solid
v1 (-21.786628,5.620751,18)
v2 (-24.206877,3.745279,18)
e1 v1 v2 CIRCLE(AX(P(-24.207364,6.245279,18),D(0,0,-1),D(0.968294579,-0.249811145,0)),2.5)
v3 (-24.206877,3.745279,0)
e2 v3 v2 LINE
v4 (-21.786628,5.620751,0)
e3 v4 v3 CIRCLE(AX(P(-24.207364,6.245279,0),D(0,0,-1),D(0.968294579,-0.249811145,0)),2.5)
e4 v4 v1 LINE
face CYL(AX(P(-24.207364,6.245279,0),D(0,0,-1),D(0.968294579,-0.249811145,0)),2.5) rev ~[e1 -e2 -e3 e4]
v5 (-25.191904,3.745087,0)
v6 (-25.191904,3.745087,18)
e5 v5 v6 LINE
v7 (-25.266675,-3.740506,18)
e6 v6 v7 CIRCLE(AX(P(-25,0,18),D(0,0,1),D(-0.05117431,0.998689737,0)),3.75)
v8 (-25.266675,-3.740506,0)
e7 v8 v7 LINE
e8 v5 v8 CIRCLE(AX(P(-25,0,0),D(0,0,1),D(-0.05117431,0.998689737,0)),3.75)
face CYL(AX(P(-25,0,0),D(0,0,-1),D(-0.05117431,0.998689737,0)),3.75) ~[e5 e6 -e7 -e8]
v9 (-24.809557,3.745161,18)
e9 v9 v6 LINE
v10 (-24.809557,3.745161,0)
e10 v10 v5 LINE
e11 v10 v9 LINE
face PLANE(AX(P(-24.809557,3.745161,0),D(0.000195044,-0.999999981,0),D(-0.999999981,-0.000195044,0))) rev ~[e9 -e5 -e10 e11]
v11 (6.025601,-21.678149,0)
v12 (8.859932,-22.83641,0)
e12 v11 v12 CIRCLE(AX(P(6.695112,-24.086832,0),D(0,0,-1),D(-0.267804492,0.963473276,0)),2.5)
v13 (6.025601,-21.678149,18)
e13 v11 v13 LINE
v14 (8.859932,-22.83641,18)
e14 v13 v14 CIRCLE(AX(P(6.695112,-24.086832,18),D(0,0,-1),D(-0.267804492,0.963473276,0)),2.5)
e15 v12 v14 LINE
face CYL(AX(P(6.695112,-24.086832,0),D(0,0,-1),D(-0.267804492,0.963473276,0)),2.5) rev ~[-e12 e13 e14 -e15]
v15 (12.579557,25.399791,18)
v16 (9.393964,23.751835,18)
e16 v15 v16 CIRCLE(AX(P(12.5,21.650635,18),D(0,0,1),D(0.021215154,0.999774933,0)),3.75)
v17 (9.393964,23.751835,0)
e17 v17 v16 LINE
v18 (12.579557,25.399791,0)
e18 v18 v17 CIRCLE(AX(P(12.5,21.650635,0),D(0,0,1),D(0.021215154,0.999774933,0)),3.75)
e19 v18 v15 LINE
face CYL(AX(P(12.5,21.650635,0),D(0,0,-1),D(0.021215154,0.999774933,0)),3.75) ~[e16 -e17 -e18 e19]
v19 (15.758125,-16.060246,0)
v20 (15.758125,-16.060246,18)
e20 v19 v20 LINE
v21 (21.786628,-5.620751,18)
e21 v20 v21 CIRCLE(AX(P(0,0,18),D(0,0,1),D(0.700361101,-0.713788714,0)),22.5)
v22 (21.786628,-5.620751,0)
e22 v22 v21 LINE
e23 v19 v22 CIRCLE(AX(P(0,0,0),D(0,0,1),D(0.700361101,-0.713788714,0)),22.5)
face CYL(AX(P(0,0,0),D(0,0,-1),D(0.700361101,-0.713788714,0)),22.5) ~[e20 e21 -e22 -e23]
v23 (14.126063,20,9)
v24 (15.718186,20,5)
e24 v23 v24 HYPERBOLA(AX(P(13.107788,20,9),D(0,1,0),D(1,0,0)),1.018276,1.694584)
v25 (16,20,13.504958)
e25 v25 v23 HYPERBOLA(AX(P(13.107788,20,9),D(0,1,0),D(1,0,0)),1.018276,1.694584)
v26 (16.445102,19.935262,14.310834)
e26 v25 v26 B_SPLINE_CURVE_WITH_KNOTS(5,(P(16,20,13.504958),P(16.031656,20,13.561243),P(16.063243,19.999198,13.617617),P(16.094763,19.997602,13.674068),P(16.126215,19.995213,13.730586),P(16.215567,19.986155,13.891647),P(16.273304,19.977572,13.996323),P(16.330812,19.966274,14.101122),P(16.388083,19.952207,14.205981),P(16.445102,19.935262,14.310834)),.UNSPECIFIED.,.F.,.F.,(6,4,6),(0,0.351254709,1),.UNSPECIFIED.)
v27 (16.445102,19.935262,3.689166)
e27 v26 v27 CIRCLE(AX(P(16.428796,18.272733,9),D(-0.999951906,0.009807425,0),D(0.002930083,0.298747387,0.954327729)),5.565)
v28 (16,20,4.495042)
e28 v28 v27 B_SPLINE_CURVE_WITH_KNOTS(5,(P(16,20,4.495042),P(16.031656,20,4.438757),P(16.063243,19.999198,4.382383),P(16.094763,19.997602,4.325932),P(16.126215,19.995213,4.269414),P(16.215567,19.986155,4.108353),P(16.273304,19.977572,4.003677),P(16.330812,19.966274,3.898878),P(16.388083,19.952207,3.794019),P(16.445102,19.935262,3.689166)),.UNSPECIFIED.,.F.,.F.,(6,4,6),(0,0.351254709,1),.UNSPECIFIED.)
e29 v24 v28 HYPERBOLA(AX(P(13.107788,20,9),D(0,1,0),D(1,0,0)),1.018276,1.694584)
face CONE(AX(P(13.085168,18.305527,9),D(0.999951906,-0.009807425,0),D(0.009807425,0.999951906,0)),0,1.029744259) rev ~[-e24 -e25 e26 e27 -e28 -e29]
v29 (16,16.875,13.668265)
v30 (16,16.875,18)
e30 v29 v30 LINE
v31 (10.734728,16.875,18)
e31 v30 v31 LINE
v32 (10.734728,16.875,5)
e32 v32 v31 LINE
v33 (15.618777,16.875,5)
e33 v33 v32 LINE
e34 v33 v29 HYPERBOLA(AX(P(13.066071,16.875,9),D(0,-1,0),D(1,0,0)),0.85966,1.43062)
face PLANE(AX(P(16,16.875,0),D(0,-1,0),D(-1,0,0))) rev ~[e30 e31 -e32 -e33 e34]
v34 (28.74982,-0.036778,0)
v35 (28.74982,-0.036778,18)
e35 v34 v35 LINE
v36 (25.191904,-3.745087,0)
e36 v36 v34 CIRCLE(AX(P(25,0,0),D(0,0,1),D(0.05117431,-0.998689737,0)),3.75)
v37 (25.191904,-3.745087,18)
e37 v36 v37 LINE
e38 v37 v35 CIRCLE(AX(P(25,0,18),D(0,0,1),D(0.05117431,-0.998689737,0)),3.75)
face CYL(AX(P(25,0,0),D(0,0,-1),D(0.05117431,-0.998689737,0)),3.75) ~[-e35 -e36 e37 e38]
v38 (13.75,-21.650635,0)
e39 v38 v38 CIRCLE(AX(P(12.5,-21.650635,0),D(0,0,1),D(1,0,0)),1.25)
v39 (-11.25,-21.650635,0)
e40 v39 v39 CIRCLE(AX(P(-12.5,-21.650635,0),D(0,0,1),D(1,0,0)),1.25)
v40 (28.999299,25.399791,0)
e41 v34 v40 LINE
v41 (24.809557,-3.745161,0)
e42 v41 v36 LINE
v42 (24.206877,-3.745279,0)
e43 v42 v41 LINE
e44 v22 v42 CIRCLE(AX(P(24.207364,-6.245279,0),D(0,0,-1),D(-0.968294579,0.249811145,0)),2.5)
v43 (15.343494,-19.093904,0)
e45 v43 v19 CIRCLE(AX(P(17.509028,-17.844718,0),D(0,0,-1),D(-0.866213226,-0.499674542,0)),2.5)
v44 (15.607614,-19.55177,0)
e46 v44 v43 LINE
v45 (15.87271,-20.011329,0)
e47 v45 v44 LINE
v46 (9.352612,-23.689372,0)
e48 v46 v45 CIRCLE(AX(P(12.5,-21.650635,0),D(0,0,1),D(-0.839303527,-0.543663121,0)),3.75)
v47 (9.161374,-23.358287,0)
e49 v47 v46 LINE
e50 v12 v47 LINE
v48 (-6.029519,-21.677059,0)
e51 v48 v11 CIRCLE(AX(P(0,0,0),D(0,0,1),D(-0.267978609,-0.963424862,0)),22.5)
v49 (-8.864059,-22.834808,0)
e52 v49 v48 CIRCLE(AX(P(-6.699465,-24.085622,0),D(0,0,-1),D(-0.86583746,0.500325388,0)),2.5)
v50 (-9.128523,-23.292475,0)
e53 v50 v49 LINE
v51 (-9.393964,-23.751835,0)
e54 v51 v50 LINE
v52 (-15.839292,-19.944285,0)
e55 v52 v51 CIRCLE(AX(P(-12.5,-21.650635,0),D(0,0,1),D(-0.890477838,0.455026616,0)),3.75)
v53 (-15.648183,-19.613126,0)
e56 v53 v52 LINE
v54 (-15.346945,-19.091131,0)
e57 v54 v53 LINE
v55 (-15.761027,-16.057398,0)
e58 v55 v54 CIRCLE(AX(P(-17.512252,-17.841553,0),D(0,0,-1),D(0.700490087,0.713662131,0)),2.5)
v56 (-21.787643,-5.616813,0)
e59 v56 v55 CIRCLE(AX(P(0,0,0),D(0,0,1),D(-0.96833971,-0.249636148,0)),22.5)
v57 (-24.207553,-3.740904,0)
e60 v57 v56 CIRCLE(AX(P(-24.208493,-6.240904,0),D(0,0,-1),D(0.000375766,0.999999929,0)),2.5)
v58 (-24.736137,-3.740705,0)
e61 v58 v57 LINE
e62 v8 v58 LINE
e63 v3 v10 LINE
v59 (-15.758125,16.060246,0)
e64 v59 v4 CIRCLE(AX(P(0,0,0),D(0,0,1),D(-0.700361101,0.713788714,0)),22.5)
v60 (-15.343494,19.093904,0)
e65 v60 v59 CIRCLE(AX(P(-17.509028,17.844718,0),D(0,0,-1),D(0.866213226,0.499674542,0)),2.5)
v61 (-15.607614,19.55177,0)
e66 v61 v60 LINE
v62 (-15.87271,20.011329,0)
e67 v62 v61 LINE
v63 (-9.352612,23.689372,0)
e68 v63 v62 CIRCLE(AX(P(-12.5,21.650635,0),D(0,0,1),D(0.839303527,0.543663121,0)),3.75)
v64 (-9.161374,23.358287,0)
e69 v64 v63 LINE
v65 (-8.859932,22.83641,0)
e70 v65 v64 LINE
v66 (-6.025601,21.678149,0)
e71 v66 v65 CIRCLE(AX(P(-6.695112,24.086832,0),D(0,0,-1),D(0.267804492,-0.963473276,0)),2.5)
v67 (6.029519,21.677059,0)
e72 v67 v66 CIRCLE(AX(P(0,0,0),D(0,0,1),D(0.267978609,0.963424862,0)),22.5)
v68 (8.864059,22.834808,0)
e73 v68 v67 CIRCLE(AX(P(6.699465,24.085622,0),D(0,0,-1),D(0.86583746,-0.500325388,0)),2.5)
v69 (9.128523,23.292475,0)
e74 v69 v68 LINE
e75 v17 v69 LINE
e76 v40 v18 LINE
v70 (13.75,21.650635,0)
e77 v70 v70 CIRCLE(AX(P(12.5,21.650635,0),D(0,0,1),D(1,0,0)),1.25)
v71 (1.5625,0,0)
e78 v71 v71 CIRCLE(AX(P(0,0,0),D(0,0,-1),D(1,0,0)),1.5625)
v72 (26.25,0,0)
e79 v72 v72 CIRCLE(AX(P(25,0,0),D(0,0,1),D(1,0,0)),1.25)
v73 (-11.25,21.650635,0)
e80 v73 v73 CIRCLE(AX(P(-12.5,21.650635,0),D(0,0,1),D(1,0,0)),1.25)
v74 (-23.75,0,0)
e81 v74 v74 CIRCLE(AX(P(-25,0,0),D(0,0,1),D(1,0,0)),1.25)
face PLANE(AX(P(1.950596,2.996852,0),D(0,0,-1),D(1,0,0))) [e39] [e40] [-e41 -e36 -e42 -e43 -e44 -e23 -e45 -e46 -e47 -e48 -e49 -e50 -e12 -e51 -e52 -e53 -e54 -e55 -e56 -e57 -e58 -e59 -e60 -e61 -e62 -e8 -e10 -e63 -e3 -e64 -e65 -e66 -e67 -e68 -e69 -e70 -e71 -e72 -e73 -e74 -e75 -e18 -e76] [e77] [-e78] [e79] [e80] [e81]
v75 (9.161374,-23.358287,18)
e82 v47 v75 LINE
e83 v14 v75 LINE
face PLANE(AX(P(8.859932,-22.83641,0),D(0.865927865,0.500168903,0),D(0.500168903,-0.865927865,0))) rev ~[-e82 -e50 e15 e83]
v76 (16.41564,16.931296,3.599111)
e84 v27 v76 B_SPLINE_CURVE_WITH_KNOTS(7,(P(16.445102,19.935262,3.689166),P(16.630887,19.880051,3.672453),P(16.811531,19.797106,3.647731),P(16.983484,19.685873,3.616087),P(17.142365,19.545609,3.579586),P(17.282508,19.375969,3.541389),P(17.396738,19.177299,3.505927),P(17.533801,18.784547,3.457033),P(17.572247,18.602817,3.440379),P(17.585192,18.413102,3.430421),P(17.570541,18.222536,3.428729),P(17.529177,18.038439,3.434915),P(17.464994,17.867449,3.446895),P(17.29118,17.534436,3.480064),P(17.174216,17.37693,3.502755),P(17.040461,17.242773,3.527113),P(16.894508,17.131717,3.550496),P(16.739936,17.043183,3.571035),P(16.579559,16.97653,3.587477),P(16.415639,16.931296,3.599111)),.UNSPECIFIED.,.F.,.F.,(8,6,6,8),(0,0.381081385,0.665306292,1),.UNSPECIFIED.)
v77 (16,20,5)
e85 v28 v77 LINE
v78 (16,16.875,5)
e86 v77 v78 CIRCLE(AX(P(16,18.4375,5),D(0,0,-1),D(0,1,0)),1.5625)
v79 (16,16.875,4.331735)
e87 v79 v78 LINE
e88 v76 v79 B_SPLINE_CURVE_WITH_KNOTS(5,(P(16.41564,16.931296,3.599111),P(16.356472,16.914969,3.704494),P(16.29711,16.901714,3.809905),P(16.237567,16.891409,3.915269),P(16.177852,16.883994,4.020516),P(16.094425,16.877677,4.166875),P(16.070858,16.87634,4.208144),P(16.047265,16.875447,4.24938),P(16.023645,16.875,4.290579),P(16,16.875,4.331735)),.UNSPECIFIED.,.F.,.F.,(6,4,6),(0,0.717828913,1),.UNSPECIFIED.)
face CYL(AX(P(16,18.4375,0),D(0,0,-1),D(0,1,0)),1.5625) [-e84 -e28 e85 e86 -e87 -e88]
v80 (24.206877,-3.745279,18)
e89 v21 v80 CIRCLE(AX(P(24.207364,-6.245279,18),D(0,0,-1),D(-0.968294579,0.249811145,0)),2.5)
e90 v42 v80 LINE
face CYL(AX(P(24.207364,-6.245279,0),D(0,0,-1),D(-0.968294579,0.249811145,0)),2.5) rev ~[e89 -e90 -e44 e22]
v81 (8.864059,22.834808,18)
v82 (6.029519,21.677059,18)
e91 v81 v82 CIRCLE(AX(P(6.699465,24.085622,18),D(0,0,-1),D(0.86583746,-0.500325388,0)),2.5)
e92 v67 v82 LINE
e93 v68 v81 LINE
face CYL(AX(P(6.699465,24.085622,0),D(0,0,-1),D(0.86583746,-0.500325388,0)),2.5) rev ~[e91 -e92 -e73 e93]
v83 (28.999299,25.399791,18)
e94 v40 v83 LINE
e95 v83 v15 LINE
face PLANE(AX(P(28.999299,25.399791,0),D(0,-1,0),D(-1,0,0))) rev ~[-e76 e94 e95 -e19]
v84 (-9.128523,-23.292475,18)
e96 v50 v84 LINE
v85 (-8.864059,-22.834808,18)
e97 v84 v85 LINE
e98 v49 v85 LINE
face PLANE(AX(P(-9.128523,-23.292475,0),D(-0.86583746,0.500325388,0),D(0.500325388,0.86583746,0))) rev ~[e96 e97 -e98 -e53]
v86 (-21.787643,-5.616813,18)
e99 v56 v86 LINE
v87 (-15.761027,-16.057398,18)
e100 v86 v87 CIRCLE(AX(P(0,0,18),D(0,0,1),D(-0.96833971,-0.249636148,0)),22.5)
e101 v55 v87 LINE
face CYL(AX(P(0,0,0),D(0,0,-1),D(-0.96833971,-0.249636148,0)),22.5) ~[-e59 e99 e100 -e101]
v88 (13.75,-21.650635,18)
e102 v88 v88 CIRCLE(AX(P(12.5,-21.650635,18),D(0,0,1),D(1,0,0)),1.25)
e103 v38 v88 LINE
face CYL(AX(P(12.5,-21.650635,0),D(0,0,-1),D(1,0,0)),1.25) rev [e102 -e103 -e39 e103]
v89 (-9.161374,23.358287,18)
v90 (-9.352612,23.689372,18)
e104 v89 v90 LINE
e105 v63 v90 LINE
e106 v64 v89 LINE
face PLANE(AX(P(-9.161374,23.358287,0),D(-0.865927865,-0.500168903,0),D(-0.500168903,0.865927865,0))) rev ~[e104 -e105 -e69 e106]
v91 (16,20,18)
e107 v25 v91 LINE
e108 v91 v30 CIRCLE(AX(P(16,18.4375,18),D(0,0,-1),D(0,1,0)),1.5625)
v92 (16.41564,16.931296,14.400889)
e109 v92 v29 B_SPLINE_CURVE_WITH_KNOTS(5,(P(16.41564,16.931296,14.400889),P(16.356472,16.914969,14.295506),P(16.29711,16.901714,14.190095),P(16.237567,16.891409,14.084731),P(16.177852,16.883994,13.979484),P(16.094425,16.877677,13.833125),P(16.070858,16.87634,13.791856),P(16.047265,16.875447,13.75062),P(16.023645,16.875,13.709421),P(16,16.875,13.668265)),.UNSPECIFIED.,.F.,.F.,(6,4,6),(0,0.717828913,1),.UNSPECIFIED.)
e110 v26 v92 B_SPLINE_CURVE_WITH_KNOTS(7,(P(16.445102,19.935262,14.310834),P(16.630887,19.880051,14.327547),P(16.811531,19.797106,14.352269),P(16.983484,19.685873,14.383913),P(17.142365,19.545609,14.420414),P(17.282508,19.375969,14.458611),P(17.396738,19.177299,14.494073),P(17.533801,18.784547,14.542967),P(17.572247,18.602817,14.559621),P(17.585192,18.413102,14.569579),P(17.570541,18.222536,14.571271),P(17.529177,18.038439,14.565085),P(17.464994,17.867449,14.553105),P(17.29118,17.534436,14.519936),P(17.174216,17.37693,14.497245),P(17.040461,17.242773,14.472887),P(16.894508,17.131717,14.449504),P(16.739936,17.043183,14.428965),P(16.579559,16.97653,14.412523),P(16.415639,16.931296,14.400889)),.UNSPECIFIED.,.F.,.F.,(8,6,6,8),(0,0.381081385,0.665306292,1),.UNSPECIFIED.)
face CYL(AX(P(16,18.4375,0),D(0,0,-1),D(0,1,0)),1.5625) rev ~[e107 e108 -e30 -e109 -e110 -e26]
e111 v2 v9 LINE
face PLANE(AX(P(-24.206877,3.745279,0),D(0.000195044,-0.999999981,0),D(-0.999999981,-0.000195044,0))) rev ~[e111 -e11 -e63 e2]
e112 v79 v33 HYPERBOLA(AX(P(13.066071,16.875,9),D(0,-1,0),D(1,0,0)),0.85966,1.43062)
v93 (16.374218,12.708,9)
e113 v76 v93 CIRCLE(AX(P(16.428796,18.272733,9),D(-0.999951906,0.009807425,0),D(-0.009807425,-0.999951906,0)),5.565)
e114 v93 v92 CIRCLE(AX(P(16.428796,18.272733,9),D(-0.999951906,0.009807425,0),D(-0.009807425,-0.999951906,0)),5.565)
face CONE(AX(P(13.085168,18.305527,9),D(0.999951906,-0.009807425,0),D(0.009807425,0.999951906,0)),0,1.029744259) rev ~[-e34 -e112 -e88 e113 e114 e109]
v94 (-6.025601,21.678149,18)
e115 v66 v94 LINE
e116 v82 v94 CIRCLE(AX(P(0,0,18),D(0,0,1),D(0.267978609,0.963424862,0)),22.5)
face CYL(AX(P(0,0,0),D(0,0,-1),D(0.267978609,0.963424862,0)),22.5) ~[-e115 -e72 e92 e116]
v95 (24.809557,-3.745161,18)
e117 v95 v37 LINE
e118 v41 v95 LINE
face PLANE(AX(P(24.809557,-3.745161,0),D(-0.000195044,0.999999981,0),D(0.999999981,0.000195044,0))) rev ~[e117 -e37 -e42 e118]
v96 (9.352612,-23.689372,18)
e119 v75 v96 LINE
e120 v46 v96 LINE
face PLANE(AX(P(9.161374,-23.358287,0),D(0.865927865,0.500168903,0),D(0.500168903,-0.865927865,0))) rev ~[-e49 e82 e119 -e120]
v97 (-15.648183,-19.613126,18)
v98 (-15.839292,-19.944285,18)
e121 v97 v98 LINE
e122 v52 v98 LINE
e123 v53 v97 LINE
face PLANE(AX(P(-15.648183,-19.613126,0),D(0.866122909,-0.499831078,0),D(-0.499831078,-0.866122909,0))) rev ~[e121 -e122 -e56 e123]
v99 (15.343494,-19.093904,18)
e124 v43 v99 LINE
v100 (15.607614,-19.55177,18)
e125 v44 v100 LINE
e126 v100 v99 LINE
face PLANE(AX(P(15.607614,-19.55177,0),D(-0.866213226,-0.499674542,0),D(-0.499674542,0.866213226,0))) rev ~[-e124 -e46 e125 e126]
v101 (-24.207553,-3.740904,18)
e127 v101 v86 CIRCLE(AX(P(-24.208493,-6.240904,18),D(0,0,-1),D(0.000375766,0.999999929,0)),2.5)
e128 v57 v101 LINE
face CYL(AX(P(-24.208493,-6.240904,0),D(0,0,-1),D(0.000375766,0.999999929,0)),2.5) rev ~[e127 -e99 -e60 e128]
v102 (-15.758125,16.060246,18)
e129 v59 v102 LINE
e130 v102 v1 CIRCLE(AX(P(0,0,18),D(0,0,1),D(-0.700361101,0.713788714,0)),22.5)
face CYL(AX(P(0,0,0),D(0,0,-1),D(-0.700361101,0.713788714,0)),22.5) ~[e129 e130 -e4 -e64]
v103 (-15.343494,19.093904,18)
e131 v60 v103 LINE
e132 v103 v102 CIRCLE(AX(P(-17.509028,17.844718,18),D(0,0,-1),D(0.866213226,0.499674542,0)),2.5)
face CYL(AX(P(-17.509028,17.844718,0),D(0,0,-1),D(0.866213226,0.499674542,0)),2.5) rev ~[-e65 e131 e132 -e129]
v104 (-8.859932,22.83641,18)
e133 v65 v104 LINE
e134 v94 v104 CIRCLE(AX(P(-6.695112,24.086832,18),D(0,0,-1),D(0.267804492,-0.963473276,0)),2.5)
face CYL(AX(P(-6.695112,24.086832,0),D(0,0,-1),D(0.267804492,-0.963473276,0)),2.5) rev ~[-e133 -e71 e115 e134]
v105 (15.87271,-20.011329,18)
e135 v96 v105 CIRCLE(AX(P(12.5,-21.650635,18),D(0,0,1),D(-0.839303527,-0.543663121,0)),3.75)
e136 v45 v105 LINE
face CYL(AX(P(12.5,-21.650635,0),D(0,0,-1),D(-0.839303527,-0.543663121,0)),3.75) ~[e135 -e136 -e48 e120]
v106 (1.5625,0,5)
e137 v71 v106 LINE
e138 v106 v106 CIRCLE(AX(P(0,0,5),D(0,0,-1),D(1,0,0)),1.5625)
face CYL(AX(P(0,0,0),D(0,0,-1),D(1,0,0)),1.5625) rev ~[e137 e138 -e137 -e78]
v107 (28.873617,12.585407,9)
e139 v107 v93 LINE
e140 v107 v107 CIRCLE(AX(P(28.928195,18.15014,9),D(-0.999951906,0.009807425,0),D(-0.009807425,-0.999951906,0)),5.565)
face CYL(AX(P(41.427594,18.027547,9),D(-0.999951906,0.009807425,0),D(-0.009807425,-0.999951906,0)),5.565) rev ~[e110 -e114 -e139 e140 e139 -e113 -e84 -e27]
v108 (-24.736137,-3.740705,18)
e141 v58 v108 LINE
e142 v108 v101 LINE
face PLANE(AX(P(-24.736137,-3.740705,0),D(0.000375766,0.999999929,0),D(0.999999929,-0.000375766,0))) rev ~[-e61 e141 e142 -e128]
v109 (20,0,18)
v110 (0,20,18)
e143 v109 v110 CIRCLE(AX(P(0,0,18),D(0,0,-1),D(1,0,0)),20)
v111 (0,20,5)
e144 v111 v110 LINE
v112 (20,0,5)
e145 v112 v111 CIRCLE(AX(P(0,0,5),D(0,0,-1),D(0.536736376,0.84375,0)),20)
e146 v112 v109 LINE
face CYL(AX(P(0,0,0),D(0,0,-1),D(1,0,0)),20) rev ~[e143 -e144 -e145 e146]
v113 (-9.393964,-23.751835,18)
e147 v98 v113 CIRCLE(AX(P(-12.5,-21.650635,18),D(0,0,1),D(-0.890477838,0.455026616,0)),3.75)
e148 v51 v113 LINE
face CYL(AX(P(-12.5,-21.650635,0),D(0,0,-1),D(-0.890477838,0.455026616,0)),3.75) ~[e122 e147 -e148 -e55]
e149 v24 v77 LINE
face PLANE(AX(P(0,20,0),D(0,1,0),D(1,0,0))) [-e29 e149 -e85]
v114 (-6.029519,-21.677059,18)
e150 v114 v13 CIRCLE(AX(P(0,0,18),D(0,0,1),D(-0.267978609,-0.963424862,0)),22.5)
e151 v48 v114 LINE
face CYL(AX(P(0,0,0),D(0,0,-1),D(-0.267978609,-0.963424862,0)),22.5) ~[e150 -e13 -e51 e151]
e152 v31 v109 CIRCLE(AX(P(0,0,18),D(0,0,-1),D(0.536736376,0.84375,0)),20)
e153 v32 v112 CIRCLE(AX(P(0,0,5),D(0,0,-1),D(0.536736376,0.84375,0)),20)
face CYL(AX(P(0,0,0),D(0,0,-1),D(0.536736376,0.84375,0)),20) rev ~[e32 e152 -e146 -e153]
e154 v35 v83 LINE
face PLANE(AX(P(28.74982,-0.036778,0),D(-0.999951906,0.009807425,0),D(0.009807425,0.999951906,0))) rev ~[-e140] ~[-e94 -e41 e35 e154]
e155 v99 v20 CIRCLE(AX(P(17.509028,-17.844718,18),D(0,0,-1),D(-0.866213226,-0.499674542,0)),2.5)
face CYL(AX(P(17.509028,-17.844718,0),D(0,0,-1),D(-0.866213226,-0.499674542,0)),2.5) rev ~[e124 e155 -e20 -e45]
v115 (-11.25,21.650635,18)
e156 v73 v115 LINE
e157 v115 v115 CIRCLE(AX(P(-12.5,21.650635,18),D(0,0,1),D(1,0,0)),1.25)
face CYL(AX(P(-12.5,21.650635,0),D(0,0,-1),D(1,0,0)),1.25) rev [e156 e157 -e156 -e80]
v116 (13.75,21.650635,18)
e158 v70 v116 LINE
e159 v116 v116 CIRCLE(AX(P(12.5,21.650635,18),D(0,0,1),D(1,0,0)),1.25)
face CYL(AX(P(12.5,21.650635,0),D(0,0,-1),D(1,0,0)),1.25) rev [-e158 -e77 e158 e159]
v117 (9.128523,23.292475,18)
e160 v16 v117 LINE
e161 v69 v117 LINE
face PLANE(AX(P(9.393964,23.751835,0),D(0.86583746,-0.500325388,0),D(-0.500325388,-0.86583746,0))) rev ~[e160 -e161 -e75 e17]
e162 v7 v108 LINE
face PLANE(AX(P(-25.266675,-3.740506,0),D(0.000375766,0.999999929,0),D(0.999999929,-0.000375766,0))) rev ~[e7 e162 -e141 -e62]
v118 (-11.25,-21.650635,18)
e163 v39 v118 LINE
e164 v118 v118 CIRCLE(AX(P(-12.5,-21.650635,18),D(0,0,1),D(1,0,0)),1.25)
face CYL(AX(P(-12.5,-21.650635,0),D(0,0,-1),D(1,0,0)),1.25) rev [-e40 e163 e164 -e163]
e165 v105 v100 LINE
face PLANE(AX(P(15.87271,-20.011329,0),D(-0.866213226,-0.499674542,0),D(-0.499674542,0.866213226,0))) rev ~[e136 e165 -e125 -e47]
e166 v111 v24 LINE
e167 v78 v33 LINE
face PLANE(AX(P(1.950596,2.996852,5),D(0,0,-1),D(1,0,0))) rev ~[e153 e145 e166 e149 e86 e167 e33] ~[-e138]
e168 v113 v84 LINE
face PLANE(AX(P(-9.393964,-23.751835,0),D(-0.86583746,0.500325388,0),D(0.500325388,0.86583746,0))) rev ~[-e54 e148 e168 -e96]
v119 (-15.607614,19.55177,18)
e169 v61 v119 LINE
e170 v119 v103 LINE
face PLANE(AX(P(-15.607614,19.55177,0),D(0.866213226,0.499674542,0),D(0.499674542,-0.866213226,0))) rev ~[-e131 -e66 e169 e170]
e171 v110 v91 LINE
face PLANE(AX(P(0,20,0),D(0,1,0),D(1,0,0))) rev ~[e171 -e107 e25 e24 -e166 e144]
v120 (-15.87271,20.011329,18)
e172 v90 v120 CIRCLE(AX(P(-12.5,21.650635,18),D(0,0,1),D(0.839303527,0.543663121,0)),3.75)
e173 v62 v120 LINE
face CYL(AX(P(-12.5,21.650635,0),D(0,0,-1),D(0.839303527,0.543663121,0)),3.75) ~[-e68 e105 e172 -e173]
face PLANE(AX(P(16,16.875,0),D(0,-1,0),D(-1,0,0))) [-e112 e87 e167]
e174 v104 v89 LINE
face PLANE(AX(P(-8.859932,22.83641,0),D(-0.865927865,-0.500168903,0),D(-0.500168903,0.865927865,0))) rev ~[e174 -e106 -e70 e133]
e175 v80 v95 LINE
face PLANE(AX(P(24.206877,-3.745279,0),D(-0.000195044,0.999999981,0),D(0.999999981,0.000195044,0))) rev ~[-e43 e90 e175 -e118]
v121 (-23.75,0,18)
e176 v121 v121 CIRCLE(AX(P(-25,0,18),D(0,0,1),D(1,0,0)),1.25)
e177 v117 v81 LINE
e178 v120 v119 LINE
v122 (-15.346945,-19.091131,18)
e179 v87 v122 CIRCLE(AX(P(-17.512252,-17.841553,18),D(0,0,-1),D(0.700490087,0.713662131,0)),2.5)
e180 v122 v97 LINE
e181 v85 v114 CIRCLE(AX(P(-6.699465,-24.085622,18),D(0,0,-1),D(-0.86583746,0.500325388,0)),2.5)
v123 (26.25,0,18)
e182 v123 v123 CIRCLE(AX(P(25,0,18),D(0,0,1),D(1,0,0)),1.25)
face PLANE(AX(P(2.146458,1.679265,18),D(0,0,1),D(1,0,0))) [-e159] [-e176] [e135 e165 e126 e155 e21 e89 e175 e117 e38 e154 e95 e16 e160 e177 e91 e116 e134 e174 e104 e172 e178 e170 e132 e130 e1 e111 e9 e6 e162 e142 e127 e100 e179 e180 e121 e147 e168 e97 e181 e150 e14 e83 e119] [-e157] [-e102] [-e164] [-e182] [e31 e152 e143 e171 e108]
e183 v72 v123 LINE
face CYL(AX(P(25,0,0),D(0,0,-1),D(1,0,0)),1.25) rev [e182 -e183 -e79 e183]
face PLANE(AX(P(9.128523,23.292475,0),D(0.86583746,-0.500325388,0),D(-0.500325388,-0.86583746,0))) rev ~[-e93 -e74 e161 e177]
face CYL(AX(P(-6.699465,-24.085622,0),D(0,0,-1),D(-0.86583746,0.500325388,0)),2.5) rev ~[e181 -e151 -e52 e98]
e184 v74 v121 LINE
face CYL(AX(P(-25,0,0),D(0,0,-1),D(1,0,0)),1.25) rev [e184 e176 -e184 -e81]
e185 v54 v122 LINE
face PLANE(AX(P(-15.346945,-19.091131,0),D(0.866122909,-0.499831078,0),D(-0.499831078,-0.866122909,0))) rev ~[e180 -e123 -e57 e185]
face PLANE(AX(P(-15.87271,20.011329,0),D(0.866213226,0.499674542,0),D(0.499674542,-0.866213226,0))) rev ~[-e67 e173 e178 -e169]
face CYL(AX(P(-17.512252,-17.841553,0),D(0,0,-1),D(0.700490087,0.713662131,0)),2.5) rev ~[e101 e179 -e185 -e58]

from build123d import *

# Parameters (mm, degrees)
F0_R     = 1.25
F1_DEPTH = 18
F3_D     = 11.13
F3_DEPTH = 12.5
F3_TIP   = 3.3437893449
F4_R     = 1.5625
F5_DEPTH = 5


with BuildPart() as f1:
    # F0 (on Top) → F1 (new body)
    with BuildSketch(Plane.XY):
        with BuildLine():
            ThreePointArc((-15.3434944638, 19.0939042011), (-15.0320560296, 17.5061736151), (-15.7581247751, 16.060246062))
            ThreePointArc((-15.7581247751, 16.060246062), (-19.4845549428, 11.2517606925), (-21.7866280292, 5.620750761))
            ThreePointArc((-21.7866280292, 5.620750761), (-22.6760479277, 4.2691537219), (-24.2068768675, 3.7452786709))
            Line((-24.2068768675, 3.7452786709), (-24.8095572627, 3.7451611218))
            Line((-24.8095572627, 3.7451611218), (-25.1919036634, 3.7450865475))
            ThreePointArc((-25.1919036634, 3.7450865475), (-28.7498129399, 0.0374555534), (-25.2666745248, -3.7405059061))
            Line((-25.2666745248, -3.7405059061), (-24.7361366604, -3.7407052642))
            Line((-24.7361366604, -3.7407052642), (-24.2075533275, -3.7409038879))
            ThreePointArc((-24.2075533275, -3.7409038879), (-22.6768190885, -4.2650555852), (-21.7876434683, -5.6168133403))
            ThreePointArc((-21.7876434683, -5.6168133403), (-19.4865880684, -11.2482392157), (-15.761026962, -16.0573979556))
            ThreePointArc((-15.761026962, -16.0573979556), (-15.0352195396, -17.5034567019), (-15.346944907, -19.0911309781))
            Line((-15.346944907, -19.0911309781), (-15.6481833041, -19.6131262852))
            Line((-15.6481833041, -19.6131262852), (-15.8392919213, -19.9442852685))
            ThreePointArc((-15.8392919213, -19.9442852685), (-14.4073439307, -24.8793405833), (-9.3939641247, -23.7518349607))
            Line((-9.3939641247, -23.7518349607), (-9.1285225433, -23.2924753715))
            Line((-9.1285225433, -23.2924753715), (-8.8640588637, -22.834808089))
            ThreePointArc((-8.8640588637, -22.834808089), (-7.6447630589, -21.7712292003), (-6.0295186932, -21.6770594023))
            ThreePointArc((-6.0295186932, -21.6770594023), (-0.0020331256, -22.4999999081), (6.0256010672, -21.6781487166))
            ThreePointArc((6.0256010672, -21.6781487166), (7.640828388, -21.7726104237), (8.8599319605, -22.836409649))
            Line((8.8599319605, -22.836409649), (9.1613739586, -23.358287407))
            Line((9.1613739586, -23.358287407), (9.3526117422, -23.689371816))
            ThreePointArc((9.3526117422, -23.689371816), (14.3424690092, -24.9167961367), (15.8727104001, -20.0113290546))
            Line((15.8727104001, -20.0113290546), (15.6076141171, -19.5517701073))
            Line((15.6076141171, -19.5517701073), (15.3434944638, -19.0939042011))
            ThreePointArc((15.3434944638, -19.0939042011), (15.0320560296, -17.5061736151), (15.7581247751, -16.060246062))
            ThreePointArc((15.7581247751, -16.060246062), (19.4845549428, -11.2517606925), (21.7866280292, -5.620750761))
            ThreePointArc((21.7866280292, -5.620750761), (22.6760479277, -4.2691537219), (24.2068768675, -3.7452786709))
            Line((24.2068768675, -3.7452786709), (24.8095572627, -3.7451611218))
            Line((24.8095572627, -3.7451611218), (25.1919036634, -3.7450865475))
            ThreePointArc((25.1919036634, -3.7450865475), (27.7059534295, -2.5962118983), (28.7498196477, -0.0367778781))
            Line((28.7498196477, -0.0367778781), (28.9992988817, 25.3997910768))
            Line((28.9992988817, 25.3997910768), (12.5795568592, 25.3997910768))
            ThreePointArc((12.5795568592, 25.3997910768), (10.7769696358, 24.9813506545), (9.3939641247, 23.7518349607))
            Line((9.3939641247, 23.7518349607), (9.1285225433, 23.2924753715))
            Line((9.1285225433, 23.2924753715), (8.8640588637, 22.834808089))
            ThreePointArc((8.8640588637, 22.834808089), (7.6447630589, 21.7712292003), (6.0295186932, 21.6770594023))
            ThreePointArc((6.0295186932, 21.6770594023), (0.0020331256, 22.4999999081), (-6.0256010672, 21.6781487166))
            ThreePointArc((-6.0256010672, 21.6781487166), (-7.640828388, 21.7726104237), (-8.8599319605, 22.836409649))
            Line((-8.8599319605, 22.836409649), (-9.1613739586, 23.358287407))
            Line((-9.1613739586, 23.358287407), (-9.3526117422, 23.689371816))
            ThreePointArc((-9.3526117422, 23.689371816), (-14.3424690092, 24.9167961367), (-15.8727104001, 20.0113290546))
            Line((-15.8727104001, 20.0113290546), (-15.6076141171, 19.5517701073))
            Line((-15.6076141171, 19.5517701073), (-15.3434944638, 19.0939042011))
        make_face()
        with Locations((-12.5, -21.650635024)):
            Circle(F0_R, mode=Mode.SUBTRACT)
        with Locations((12.4999999694, -21.6506350416)):
            Circle(F0_R, mode=Mode.SUBTRACT)
        with Locations((-24.9999999694, 5.3e-08)):
            Circle(F0_R, mode=Mode.SUBTRACT)
        with BuildLine():
            ThreePointArc((10.7347275233, 16.875), (17.5313226892, 9.6256285388), (20, 0))
            ThreePointArc((20, 0), (-14.1421356237, -14.1421356237), (0, 20))
            Line((0, 20), (13.682886083, 20))
            Line((13.682886083, 20), (16, 20))
            ThreePointArc((16, 20), (17.5625, 18.4375), (16, 16.875))
            Line((16, 16.875), (13.7064243678, 16.875))
            Line((13.7064243678, 16.875), (10.7347275233, 16.875))
        make_face(mode=Mode.SUBTRACT)
        with Locations((-12.4999999694, 21.6506351123)):
            Circle(F0_R, mode=Mode.SUBTRACT)
        with Locations((24.9999999694, 1.77e-08)):
            Circle(F0_R, mode=Mode.SUBTRACT)
        with Locations((12.5, 21.6506350946)):
            Circle(F0_R, mode=Mode.SUBTRACT)
    extrude(amount=F1_DEPTH)

    # F3
    with Locations(Plane(origin=(28.7474150086, -0.2819516693, 0), x_dir=(0.0098074247, 0.9999519061, 0), z_dir=(0.9999519061, -0.0098074247, 0))):
        with Locations((18.4329779418, 9)):
            Hole(F3_D / 2, depth=F3_DEPTH)
            with Locations((0, 0, -(F3_DEPTH + F3_TIP / 2))):  # 118° drill point
                Cone(0, F3_D / 2, F3_TIP, mode=Mode.SUBTRACT)

    # F4 (on face) → F5 (join)
    with BuildSketch(Plane(origin=(0, 0, 0), x_dir=(1, 0, 0), z_dir=(0, 0, -1))):
        with BuildLine():
            ThreePointArc((10.7347275233, -16.875), (-5.5901699437, 19.2028643697), (0, -20))
            Line((0, -20), (16, -20))
            ThreePointArc((16, -20), (17.5625, -18.4375), (16, -16.875))
            Line((16, -16.875), (10.7347275233, -16.875))
        make_face()
        Circle(F4_R, mode=Mode.SUBTRACT)
    extrude(amount=-F5_DEPTH)


solid = f1.part
